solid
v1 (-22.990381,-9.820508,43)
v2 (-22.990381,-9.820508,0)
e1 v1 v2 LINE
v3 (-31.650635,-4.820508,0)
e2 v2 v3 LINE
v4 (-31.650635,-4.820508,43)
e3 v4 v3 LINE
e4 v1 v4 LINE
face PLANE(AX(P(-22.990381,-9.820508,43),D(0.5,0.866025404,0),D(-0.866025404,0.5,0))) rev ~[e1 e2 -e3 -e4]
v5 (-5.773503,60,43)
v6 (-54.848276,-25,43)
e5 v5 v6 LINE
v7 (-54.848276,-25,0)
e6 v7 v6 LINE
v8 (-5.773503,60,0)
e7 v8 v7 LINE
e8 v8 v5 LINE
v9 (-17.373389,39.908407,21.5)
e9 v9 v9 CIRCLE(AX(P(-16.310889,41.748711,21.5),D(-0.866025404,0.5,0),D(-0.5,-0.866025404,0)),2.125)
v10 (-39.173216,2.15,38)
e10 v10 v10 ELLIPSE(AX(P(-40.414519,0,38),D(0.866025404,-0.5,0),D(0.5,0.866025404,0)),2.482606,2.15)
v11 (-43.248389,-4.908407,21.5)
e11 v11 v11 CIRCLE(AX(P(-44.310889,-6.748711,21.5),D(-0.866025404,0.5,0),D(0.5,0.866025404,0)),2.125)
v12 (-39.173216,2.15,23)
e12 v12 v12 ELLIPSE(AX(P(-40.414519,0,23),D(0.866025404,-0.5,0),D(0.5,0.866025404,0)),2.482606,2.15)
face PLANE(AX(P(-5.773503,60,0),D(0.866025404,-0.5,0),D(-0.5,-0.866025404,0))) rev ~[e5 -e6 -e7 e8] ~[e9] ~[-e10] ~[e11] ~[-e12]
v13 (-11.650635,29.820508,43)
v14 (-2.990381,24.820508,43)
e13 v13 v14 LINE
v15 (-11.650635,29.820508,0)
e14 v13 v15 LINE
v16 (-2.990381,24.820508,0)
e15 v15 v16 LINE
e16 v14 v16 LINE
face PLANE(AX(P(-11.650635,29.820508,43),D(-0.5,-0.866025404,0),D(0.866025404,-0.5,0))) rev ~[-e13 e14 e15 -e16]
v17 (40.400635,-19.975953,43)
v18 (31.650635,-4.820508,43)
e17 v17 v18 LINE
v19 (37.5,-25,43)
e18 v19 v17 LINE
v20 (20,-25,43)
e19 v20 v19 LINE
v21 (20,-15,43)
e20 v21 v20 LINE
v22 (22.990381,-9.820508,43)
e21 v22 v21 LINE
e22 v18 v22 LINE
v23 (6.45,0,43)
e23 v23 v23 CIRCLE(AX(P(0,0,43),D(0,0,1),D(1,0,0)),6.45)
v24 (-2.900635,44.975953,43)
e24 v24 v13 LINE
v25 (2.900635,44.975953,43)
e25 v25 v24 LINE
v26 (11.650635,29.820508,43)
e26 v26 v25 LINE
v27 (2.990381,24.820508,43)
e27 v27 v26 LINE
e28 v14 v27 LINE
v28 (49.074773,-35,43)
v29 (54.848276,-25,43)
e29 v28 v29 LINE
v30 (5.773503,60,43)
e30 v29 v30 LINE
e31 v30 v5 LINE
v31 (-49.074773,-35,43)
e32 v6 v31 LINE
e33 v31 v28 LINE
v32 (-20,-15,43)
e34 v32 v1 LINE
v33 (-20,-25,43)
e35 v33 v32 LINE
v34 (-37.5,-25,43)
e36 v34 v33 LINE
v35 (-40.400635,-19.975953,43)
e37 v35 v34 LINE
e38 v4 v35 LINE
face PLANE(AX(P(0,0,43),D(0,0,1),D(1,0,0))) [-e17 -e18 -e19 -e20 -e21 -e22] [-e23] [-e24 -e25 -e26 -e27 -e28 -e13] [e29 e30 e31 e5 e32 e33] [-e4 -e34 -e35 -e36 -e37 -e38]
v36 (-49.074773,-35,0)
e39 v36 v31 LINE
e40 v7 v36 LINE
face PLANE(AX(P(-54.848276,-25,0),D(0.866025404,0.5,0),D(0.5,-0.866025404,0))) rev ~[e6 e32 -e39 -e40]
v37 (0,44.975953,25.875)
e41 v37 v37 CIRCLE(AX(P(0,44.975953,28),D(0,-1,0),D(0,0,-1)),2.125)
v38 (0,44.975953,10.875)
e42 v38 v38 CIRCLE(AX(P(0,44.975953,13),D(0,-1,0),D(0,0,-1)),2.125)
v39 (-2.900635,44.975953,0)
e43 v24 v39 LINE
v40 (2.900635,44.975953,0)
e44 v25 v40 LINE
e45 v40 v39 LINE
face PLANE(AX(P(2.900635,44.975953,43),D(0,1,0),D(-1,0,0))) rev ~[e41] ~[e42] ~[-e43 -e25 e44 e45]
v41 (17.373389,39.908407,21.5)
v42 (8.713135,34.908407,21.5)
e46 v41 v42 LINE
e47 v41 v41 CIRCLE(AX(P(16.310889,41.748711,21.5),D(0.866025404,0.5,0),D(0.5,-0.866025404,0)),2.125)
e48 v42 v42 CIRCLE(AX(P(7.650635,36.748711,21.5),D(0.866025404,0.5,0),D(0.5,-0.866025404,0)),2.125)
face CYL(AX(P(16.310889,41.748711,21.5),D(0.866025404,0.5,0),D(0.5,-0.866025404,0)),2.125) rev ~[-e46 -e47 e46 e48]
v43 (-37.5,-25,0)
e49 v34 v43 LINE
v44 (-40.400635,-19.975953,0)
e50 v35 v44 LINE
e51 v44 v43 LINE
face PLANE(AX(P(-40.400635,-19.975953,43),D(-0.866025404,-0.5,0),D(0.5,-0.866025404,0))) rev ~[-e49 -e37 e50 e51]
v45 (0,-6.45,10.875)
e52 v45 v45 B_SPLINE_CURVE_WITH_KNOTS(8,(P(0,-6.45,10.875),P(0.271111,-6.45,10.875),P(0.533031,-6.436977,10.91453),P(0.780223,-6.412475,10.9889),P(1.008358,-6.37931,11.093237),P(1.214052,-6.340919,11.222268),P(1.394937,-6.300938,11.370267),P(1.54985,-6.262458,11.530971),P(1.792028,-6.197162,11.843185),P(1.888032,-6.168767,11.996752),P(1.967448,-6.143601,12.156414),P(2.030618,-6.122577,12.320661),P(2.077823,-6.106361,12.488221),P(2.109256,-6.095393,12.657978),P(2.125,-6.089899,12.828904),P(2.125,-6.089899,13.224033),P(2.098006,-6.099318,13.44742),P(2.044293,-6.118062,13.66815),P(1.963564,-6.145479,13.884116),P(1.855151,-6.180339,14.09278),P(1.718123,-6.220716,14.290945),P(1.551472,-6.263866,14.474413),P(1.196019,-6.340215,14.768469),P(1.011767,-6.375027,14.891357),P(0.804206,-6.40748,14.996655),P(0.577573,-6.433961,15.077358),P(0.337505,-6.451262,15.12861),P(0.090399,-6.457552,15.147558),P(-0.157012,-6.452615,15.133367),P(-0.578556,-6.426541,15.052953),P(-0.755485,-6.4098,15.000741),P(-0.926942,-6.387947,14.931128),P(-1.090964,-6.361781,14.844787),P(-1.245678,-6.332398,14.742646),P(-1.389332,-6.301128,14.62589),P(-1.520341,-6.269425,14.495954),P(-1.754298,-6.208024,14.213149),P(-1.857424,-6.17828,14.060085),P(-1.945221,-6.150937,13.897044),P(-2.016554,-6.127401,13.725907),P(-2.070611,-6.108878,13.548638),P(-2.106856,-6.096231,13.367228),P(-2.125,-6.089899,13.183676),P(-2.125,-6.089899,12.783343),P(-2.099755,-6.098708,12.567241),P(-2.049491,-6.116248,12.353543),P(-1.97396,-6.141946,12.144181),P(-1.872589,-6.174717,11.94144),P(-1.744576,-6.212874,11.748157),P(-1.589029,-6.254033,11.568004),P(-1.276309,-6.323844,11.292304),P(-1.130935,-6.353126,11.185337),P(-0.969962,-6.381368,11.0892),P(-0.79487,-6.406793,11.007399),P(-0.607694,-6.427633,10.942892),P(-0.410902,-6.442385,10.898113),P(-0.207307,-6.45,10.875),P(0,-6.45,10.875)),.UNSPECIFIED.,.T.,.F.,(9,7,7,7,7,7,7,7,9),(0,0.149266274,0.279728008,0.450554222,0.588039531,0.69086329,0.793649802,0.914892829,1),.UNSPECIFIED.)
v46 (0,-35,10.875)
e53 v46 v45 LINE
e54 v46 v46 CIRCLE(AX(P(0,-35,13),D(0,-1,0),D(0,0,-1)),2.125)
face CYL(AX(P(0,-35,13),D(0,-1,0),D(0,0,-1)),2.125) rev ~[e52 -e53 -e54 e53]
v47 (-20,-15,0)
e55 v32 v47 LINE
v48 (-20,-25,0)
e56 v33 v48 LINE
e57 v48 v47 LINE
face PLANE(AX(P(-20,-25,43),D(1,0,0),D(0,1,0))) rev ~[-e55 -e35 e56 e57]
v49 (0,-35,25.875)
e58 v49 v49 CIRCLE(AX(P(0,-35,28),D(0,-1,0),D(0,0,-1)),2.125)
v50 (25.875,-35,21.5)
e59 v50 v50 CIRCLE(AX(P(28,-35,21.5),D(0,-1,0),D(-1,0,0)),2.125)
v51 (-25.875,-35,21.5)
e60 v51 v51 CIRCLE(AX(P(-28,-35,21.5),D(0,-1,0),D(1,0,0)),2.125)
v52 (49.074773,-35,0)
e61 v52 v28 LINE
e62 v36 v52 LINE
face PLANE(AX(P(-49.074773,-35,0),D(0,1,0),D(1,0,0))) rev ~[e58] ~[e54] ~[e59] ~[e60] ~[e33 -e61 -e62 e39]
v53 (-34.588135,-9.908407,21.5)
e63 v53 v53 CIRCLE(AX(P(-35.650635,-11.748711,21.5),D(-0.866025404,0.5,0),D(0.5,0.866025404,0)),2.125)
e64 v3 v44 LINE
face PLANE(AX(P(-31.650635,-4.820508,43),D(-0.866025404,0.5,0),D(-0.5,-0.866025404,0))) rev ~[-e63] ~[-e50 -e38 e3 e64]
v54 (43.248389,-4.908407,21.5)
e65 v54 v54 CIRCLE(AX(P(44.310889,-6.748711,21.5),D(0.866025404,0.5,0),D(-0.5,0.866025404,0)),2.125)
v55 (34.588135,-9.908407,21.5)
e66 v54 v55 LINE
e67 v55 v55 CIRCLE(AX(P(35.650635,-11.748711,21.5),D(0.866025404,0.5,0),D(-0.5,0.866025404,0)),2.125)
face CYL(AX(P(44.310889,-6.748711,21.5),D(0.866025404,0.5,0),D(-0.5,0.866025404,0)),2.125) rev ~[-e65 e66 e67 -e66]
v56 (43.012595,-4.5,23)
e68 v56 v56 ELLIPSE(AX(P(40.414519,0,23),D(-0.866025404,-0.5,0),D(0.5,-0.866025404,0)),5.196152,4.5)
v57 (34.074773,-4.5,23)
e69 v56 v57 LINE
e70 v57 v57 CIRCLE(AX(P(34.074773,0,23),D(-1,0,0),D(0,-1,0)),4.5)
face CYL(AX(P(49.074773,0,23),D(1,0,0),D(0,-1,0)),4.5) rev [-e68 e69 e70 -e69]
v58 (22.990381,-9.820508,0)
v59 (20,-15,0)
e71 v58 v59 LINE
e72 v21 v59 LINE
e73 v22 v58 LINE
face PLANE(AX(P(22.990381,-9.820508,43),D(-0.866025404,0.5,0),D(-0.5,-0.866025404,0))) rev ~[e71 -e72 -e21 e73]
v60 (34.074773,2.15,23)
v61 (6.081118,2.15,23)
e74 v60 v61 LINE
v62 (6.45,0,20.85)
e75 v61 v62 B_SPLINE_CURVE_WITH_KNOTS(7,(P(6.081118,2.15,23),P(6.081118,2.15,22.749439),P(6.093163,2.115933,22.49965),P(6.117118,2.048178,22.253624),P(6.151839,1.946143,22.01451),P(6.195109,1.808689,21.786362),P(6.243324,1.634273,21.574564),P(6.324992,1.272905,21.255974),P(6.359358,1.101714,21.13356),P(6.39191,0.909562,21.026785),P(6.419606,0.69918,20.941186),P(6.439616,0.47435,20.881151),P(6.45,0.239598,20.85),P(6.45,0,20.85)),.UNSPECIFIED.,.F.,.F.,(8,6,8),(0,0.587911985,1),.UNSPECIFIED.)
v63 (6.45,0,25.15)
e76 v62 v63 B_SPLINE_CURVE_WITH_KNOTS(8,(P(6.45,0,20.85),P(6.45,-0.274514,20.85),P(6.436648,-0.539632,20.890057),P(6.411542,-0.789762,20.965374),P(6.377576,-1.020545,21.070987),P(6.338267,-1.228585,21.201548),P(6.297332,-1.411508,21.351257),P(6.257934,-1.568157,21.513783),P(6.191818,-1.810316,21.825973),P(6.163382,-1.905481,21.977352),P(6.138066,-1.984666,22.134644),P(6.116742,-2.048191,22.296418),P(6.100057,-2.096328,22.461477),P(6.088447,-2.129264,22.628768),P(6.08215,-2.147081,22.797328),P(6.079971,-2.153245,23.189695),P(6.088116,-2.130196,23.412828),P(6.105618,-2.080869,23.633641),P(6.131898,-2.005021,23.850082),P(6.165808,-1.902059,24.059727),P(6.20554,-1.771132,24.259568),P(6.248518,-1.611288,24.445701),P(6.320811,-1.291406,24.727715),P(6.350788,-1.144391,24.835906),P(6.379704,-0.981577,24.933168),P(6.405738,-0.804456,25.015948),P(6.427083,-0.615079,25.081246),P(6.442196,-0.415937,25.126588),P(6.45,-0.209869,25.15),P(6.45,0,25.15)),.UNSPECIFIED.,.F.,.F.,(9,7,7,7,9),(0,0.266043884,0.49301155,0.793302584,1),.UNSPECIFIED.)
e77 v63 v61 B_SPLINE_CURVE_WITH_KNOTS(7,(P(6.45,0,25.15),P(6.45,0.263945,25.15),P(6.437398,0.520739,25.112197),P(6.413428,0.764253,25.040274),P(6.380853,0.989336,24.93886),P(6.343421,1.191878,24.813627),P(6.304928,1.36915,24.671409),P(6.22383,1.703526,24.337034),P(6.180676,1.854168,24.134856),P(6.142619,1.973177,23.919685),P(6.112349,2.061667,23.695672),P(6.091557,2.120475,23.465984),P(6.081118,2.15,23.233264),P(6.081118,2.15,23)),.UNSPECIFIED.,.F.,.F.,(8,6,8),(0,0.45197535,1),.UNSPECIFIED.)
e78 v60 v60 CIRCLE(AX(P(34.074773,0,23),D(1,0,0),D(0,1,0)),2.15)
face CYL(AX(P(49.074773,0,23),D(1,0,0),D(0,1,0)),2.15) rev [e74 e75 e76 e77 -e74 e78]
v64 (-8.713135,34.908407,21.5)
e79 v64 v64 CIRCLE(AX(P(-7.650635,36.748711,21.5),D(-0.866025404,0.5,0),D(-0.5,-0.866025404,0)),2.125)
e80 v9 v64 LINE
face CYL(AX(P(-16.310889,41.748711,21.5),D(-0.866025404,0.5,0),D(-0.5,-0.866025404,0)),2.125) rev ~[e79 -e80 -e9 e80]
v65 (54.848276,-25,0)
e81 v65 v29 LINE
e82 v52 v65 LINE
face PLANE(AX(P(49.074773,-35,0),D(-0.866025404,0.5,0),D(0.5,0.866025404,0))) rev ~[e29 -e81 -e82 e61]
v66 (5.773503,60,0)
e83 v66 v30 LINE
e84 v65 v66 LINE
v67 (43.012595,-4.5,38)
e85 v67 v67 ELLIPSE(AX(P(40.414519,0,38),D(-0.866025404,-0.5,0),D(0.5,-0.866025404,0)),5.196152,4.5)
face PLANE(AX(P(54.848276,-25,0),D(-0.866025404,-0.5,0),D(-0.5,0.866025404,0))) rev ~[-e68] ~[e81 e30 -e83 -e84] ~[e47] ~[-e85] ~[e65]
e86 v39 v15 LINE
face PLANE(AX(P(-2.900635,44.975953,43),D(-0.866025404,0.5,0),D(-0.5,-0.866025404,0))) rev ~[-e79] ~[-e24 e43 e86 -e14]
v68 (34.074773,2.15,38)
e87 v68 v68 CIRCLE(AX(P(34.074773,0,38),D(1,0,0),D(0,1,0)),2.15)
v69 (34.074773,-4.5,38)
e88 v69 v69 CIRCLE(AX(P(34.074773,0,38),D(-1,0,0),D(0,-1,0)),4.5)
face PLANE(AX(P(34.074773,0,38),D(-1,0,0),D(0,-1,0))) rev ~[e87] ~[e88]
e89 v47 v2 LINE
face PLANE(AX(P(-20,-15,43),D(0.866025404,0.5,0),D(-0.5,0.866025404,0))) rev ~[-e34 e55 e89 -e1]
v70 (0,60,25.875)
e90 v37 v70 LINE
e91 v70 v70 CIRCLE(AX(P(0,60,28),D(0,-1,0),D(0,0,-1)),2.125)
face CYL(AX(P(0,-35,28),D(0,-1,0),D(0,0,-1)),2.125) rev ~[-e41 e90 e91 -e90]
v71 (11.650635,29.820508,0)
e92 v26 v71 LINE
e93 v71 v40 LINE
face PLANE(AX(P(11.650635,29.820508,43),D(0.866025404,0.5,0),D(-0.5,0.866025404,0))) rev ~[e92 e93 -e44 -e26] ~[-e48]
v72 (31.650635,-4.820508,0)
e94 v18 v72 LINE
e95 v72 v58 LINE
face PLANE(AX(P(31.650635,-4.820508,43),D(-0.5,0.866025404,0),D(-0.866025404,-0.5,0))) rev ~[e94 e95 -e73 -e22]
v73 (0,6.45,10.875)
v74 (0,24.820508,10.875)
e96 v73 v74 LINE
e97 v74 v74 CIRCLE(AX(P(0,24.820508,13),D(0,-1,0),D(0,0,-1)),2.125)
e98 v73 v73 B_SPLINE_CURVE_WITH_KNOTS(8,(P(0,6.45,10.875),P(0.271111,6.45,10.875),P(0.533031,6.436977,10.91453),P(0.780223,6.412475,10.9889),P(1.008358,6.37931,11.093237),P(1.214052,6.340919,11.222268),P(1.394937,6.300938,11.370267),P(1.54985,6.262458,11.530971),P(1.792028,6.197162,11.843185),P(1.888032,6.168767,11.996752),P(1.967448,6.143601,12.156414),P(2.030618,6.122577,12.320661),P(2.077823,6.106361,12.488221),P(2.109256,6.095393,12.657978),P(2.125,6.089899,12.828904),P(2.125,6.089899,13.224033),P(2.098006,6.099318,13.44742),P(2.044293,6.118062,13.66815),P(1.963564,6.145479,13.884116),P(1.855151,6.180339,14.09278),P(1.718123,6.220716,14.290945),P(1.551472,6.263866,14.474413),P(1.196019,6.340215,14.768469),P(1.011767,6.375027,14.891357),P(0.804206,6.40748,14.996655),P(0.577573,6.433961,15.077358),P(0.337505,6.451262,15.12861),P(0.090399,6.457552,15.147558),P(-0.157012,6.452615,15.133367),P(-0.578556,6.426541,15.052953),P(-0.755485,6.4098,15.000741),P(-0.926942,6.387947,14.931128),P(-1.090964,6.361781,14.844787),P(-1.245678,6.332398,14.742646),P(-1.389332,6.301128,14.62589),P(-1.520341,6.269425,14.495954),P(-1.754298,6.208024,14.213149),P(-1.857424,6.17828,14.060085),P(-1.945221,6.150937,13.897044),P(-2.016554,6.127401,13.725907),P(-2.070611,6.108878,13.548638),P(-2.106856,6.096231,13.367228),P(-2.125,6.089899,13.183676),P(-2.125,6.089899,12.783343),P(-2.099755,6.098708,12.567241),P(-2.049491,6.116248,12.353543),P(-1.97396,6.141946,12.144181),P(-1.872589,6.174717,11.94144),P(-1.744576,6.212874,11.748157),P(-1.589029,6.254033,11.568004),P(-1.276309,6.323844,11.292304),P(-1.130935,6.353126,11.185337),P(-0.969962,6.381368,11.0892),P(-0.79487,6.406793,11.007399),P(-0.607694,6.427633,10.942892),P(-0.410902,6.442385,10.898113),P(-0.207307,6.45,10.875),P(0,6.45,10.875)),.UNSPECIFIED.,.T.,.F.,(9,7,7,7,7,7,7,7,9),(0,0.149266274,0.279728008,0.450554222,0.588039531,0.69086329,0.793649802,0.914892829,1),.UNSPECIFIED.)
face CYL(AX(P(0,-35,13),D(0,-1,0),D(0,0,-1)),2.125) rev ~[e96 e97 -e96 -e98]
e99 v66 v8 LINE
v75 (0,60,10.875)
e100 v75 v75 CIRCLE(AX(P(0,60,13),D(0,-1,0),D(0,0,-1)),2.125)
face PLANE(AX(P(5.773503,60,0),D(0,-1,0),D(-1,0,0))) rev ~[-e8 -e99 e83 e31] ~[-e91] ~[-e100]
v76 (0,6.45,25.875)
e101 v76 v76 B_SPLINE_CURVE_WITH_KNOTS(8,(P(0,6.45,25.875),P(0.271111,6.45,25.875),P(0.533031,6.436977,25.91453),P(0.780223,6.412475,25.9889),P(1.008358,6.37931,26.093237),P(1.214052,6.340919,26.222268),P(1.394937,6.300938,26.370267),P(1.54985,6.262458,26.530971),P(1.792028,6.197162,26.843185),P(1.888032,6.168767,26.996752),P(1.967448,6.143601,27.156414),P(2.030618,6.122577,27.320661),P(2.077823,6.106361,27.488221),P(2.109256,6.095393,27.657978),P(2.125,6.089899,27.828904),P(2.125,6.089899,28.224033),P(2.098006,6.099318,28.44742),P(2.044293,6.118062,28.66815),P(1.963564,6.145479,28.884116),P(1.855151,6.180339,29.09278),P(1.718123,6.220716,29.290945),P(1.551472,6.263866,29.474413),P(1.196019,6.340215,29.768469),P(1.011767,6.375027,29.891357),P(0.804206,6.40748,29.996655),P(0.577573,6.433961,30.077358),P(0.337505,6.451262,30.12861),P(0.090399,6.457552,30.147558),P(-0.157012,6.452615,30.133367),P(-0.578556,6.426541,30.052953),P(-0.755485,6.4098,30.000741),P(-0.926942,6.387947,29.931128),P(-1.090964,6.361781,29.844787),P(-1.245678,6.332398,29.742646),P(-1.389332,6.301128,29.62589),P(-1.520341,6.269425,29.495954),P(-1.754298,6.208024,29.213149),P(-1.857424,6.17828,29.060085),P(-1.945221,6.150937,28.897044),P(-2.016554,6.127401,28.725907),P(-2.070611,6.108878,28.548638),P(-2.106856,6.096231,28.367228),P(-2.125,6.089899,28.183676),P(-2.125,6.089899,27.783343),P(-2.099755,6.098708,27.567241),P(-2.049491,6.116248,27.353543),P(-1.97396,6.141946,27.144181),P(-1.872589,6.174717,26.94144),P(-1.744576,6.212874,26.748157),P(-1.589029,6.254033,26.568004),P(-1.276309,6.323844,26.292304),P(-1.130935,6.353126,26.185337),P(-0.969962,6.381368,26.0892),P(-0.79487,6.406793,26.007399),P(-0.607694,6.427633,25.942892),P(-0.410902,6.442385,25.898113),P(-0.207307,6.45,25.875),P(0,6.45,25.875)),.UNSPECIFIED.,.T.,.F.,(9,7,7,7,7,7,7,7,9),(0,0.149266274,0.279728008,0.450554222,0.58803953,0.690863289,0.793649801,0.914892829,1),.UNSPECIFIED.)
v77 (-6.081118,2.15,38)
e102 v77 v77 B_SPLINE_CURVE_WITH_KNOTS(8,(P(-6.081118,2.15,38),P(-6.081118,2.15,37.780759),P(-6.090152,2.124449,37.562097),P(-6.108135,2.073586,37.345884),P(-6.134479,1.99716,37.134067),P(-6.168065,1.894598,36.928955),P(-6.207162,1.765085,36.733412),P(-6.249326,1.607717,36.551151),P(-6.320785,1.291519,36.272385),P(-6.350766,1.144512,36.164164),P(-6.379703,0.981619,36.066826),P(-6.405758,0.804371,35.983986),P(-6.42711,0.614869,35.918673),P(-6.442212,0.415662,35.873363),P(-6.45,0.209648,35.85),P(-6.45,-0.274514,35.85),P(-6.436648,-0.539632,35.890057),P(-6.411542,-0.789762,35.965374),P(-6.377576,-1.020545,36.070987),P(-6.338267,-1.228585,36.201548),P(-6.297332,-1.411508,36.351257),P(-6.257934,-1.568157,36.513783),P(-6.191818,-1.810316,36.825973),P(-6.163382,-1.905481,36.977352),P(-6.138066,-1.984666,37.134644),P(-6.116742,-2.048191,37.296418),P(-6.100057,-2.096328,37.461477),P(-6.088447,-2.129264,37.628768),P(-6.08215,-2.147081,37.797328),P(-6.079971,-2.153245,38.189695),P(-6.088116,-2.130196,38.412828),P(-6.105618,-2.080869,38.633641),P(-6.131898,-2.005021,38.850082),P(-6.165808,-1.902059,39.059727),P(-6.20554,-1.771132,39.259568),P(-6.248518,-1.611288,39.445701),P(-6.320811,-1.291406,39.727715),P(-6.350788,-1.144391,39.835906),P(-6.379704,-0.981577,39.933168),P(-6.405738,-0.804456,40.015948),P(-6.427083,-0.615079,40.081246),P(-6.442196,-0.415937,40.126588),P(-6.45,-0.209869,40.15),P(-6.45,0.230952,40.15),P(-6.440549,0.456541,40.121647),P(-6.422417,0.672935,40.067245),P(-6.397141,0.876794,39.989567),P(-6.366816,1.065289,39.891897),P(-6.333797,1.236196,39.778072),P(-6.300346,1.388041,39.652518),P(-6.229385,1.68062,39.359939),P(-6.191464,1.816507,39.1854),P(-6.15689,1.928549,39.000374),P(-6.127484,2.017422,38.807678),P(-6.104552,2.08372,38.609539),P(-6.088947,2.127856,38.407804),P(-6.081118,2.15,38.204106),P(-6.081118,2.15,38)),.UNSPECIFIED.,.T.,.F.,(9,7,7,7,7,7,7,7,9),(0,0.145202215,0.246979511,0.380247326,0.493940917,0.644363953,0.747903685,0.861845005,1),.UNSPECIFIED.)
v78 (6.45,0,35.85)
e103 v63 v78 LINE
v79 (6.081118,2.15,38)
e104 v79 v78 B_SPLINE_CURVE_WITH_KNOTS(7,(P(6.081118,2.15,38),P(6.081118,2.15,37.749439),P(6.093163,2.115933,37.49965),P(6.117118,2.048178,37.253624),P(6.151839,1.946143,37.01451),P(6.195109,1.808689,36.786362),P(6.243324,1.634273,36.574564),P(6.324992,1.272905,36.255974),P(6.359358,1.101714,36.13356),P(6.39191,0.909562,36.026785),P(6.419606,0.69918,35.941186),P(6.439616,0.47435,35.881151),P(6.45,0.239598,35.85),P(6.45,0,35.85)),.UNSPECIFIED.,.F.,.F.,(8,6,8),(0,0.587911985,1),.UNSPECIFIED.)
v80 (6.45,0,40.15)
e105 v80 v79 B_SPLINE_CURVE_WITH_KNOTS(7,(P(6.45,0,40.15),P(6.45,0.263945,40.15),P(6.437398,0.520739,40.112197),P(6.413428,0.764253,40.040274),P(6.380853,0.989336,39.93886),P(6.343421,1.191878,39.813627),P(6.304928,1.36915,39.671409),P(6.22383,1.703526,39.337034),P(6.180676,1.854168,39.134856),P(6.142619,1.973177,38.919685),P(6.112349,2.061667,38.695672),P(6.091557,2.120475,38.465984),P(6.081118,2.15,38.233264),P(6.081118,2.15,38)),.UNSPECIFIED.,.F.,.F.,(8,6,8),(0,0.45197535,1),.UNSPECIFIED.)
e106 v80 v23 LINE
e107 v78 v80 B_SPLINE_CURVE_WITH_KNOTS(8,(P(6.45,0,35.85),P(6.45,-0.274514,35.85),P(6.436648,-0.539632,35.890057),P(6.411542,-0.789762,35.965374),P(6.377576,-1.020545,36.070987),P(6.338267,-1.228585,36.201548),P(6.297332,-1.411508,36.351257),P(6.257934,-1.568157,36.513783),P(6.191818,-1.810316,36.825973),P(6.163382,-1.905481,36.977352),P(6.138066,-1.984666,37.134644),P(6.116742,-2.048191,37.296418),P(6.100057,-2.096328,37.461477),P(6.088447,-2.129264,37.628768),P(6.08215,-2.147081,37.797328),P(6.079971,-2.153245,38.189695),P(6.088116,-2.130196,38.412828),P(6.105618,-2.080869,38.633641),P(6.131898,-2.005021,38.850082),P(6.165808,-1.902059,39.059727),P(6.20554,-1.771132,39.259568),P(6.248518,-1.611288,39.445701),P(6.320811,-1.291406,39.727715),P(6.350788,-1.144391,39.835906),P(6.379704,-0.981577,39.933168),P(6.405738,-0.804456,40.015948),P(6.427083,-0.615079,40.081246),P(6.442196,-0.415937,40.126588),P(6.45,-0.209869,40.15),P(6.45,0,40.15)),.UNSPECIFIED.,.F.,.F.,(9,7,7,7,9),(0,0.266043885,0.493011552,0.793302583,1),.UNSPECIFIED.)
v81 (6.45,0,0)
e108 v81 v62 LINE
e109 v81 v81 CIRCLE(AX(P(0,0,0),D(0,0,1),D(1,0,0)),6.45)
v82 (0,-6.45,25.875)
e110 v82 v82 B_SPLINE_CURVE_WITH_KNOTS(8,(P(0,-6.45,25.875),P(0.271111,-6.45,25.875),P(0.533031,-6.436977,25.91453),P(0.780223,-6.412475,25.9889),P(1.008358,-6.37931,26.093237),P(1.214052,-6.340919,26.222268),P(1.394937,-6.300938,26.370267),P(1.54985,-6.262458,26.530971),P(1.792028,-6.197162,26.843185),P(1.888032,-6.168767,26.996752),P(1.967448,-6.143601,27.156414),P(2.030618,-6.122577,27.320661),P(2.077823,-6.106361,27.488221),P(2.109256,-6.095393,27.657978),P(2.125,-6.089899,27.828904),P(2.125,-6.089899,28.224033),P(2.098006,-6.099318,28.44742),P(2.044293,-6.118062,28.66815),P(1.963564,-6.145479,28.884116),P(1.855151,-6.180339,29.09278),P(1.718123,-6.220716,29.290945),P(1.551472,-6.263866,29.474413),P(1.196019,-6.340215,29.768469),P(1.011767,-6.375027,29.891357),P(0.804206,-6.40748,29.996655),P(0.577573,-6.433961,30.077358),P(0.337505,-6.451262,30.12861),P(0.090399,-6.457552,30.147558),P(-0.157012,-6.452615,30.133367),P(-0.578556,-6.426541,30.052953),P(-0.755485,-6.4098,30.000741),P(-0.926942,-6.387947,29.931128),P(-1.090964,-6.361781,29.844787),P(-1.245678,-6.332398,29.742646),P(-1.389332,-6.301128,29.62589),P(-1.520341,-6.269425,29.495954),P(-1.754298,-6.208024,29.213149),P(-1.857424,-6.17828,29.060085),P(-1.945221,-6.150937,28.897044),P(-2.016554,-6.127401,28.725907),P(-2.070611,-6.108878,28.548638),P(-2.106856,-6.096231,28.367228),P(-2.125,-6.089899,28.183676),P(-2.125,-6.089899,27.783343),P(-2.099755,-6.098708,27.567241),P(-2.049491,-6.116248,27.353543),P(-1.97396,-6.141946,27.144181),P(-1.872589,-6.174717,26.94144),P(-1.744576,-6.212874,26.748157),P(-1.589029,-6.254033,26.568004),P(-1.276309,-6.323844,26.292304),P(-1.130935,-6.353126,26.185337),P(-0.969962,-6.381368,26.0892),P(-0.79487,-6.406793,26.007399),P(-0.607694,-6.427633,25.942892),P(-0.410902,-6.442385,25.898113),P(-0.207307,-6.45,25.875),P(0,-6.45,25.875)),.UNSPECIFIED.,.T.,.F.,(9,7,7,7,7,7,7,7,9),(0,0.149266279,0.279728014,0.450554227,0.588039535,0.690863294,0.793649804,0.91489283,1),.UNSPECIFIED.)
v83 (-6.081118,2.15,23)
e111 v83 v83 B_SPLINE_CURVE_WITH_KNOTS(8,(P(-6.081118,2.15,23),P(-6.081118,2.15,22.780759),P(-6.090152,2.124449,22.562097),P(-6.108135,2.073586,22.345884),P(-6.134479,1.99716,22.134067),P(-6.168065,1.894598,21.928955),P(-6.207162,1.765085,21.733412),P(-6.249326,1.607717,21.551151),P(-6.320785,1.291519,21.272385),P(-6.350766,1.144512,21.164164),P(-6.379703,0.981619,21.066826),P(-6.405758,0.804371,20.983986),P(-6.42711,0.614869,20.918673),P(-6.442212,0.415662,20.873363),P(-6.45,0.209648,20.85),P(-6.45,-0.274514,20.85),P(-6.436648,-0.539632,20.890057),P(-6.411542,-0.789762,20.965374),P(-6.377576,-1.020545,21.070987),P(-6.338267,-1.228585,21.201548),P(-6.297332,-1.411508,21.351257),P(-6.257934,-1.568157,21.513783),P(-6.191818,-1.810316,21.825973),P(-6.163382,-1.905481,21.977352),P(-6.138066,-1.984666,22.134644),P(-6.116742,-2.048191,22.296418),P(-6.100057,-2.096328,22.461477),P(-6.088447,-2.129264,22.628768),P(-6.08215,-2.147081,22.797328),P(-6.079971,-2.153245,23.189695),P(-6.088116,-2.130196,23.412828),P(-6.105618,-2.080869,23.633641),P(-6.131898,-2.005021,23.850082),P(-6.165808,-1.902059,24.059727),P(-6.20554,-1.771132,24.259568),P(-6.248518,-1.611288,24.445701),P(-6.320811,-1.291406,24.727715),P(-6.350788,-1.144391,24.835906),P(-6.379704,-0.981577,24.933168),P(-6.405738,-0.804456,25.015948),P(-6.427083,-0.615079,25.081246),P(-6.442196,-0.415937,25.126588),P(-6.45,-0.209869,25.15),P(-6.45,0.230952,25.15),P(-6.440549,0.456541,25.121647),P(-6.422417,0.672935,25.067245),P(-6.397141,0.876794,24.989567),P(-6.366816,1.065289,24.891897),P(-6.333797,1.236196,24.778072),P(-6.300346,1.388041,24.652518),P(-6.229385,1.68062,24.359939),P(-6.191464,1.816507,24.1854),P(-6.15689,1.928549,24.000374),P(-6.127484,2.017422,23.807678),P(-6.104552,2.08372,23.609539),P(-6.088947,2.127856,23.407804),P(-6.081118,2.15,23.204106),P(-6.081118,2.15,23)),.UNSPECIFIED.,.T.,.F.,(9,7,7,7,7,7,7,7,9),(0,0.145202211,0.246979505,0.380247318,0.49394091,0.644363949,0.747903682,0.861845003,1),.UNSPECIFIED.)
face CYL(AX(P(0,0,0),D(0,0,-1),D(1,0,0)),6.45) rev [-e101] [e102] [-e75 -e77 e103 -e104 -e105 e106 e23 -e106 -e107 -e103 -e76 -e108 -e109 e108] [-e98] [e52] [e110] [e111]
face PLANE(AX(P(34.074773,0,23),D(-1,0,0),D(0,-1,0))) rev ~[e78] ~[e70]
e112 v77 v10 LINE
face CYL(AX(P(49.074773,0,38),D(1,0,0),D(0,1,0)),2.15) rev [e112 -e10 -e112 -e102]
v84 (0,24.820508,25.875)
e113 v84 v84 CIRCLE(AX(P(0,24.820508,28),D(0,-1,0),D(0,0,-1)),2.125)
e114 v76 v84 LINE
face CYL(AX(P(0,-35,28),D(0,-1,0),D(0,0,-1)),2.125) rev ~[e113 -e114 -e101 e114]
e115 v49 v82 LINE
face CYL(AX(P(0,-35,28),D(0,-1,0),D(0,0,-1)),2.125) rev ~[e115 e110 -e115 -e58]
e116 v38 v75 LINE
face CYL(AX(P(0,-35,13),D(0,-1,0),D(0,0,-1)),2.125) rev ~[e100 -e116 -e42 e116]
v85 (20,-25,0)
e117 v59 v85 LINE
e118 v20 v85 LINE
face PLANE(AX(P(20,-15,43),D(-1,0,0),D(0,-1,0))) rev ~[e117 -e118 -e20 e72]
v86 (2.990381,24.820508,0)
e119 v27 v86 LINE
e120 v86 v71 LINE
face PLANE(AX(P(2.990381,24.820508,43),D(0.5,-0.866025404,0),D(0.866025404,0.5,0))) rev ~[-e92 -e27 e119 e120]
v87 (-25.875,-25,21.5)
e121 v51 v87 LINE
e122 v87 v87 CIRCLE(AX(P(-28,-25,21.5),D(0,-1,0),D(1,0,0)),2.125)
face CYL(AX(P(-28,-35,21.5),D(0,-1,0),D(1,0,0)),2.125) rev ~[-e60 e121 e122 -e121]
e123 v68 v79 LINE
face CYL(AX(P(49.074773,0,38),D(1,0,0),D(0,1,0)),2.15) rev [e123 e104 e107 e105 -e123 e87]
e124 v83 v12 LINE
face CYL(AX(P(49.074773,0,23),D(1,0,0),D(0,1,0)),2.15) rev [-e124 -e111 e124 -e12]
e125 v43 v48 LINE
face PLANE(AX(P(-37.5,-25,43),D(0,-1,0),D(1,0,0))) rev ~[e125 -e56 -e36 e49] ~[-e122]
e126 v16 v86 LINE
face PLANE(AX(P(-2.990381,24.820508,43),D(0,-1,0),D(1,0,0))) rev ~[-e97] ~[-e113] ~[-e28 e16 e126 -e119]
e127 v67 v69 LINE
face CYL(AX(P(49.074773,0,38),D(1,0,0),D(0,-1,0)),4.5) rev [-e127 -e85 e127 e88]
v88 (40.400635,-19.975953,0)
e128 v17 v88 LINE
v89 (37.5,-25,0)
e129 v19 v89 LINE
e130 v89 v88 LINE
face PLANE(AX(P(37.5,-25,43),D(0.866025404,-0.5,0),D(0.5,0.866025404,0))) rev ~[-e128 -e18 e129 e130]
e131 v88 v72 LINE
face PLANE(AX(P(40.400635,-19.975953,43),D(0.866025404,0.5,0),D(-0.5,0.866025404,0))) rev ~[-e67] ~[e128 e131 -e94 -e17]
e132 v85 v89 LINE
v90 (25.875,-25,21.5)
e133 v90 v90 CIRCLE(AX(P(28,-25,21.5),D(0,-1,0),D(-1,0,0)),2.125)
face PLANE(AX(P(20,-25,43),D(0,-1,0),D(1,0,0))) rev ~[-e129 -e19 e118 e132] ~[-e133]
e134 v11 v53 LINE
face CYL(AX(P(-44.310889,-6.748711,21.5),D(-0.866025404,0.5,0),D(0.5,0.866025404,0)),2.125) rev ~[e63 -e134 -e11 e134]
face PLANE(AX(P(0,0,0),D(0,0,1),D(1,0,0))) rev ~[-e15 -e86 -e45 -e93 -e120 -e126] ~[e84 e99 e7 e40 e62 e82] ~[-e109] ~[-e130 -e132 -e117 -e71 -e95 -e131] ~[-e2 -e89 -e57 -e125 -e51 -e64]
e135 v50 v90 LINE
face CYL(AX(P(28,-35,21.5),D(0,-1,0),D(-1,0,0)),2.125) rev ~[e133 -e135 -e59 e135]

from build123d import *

# Parameters (mm, degrees)
SKETCH_1_R               = 6.45
EXTRUDE_1_DEPTH          = 43
CUT_EXTRUDE_3_DEPTH      = 92.963760979
SKETCH_3_R               = 2.125
CUT_EXTRUDE_4_DEPTH      = 15
PATTERN_CIRCULAR_1_COUNT = 3
SKETCH_4_R               = 2.125
CUT_EXTRUDE_5_DEPTH      = 118.823314048
SKETCH_6_R               = 2.15
CUT_EXTRUDE_7_DEPTH      = 128.471565491
SKETCH_7_R               = 4.5
CUT_EXTRUDE_8_DEPTH      = 15


with BuildPart() as part:
    # 草图1 → 凸台-拉伸1 (new body)
    with BuildSketch(Plane.XY):
        Polygon((5.773502692, 60), (-5.773502692, 60), (-54.848275573, -25), (-49.074772881, -35), (49.074772881, -35), (54.848275573, -25), align=None)
        Circle(SKETCH_1_R, mode=Mode.SUBTRACT)
    extrude(amount=EXTRUDE_1_DEPTH)

    # 草图2 → 切除-拉伸3 (cut, through all)
    with BuildSketch(Plane.XY.offset(43)):
        Polygon((5.759618943, 39.975952642), (0, 43.301270189), (-5.759618943, 39.975952642), (0, 30), align=None)
        Polygon((0, 43.301270189), (-2.900635095, 44.975952642), (-11.650635095, 29.820508076), (-2.990381057, 24.820508076), (0, 30), (-5.759618943, 39.975952642), align=None)
        Polygon((2.900635095, 44.975952642), (0, 43.301270189), (5.759618943, 39.975952642), (0, 30), (2.990381057, 24.820508076), (11.650635095, 29.820508076), align=None)
        Polygon((-22.990381057, -9.820508076), (-31.650635095, -4.820508076), (-40.400635095, -19.975952642), (-37.5, -21.650635095), (-37.5, -15), (-25.980762114, -15), align=None)
        Polygon((-37.5, -15), (-37.5, -21.650635095), (-31.740381057, -24.975952642), (-25.980762114, -15), align=None)
        Polygon((-31.740381057, -24.975952642), (-37.5, -21.650635095), (-37.5, -25), (-20, -25), (-20, -15), (-25.980762114, -15), align=None)
        Polygon((25.980762114, -15), (20, -15), (20, -25), (37.5, -25), (37.5, -21.650635095), (31.740381057, -24.975952642), align=None)
        Polygon((37.5, -15), (25.980762114, -15), (31.740381057, -24.975952642), (37.5, -21.650635095), align=None)
        Polygon((40.400635095, -19.975952642), (31.650635095, -4.820508076), (22.990381057, -9.820508076), (25.980762114, -15), (37.5, -15), (37.5, -21.650635095), align=None)
        Polygon((2.900635095, 44.975952642), (-2.900635095, 44.975952642), (0, 43.301270189), align=None)
        Polygon((-37.5, -21.650635095), (-40.400635095, -19.975952642), (-37.5, -25), align=None)
        Polygon((37.5, -25), (40.400635095, -19.975952642), (37.5, -21.650635095), align=None)
        Polygon((25.980762114, -15), (22.990381057, -9.820508076), (20, -15), align=None)
        Polygon((-20, -15), (-22.990381057, -9.820508076), (-25.980762114, -15), align=None)
        Polygon((0, 30), (-2.990381057, 24.820508076), (2.990381057, 24.820508076), align=None)
    extrude(amount=-CUT_EXTRUDE_3_DEPTH, mode=Mode.SUBTRACT)

    # 草图3 → 切除-拉伸4 (cut)
    with BuildSketch(Plane(origin=(-30.310889132, 17.5, 0), x_dir=(0, 0, 1), z_dir=(-0.8660254037844362, 0.5000000000000046, 0))):
        with Locations(Location((21.5, 28, 0), (0, 0, 270))):
            Circle(SKETCH_3_R)
        with Locations(Location((21.5, -28, 0), (0, 0, 90))):
            Circle(SKETCH_3_R)
    cut_extrude_4 = extrude(amount=-CUT_EXTRUDE_4_DEPTH, mode=Mode.SUBTRACT)

    # 阵列(圆周)1: 切除-拉伸4 ×3 about axis
    pattern_circular_1_axis = Axis((0, 0, 43), (0, 0, -1))
    for i in range(1, PATTERN_CIRCULAR_1_COUNT):
        add(cut_extrude_4.rotate(pattern_circular_1_axis, i * 360 / PATTERN_CIRCULAR_1_COUNT), mode=Mode.SUBTRACT)

    # 草图4 → 切除-拉伸5 (cut, through all)
    with BuildSketch(Plane.XZ.offset(35)):
        with Locations(Location((0, 13, 0), (0, 0, 270))):
            Circle(SKETCH_4_R)
        with Locations(Location((0, 28, 0), (0, 0, 270))):
            Circle(SKETCH_4_R)
    extrude(amount=-CUT_EXTRUDE_5_DEPTH, mode=Mode.SUBTRACT)

    # 草图6 → 切除-拉伸7 (cut, through all)
    with BuildSketch(Plane(origin=(49.074772881, 0, 0), x_dir=(0, 0, -1), z_dir=(-1, 0, 0))):
        with Locations(Location((-23, 0, 0), (0, 0, 270))):
            Circle(SKETCH_6_R)
        with Locations(Location((-38, 0, 0), (0, 0, 270))):
            Circle(SKETCH_6_R)
    extrude(amount=CUT_EXTRUDE_7_DEPTH, mode=Mode.SUBTRACT)

    # 草图7 → 切除-拉伸8 (cut)
    with BuildSketch(Plane(origin=(49.074772881, 0, 0), x_dir=(0, 0, -1), z_dir=(-1, 0, 0))):
        with Locations(Location((-38, 0, 0), (0, 0, 90))):
            Circle(SKETCH_7_R)
        with Locations(Location((-23, 0, 0), (0, 0, 90))):
            Circle(SKETCH_7_R)
    extrude(amount=CUT_EXTRUDE_8_DEPTH, mode=Mode.SUBTRACT)


solid = part.part
